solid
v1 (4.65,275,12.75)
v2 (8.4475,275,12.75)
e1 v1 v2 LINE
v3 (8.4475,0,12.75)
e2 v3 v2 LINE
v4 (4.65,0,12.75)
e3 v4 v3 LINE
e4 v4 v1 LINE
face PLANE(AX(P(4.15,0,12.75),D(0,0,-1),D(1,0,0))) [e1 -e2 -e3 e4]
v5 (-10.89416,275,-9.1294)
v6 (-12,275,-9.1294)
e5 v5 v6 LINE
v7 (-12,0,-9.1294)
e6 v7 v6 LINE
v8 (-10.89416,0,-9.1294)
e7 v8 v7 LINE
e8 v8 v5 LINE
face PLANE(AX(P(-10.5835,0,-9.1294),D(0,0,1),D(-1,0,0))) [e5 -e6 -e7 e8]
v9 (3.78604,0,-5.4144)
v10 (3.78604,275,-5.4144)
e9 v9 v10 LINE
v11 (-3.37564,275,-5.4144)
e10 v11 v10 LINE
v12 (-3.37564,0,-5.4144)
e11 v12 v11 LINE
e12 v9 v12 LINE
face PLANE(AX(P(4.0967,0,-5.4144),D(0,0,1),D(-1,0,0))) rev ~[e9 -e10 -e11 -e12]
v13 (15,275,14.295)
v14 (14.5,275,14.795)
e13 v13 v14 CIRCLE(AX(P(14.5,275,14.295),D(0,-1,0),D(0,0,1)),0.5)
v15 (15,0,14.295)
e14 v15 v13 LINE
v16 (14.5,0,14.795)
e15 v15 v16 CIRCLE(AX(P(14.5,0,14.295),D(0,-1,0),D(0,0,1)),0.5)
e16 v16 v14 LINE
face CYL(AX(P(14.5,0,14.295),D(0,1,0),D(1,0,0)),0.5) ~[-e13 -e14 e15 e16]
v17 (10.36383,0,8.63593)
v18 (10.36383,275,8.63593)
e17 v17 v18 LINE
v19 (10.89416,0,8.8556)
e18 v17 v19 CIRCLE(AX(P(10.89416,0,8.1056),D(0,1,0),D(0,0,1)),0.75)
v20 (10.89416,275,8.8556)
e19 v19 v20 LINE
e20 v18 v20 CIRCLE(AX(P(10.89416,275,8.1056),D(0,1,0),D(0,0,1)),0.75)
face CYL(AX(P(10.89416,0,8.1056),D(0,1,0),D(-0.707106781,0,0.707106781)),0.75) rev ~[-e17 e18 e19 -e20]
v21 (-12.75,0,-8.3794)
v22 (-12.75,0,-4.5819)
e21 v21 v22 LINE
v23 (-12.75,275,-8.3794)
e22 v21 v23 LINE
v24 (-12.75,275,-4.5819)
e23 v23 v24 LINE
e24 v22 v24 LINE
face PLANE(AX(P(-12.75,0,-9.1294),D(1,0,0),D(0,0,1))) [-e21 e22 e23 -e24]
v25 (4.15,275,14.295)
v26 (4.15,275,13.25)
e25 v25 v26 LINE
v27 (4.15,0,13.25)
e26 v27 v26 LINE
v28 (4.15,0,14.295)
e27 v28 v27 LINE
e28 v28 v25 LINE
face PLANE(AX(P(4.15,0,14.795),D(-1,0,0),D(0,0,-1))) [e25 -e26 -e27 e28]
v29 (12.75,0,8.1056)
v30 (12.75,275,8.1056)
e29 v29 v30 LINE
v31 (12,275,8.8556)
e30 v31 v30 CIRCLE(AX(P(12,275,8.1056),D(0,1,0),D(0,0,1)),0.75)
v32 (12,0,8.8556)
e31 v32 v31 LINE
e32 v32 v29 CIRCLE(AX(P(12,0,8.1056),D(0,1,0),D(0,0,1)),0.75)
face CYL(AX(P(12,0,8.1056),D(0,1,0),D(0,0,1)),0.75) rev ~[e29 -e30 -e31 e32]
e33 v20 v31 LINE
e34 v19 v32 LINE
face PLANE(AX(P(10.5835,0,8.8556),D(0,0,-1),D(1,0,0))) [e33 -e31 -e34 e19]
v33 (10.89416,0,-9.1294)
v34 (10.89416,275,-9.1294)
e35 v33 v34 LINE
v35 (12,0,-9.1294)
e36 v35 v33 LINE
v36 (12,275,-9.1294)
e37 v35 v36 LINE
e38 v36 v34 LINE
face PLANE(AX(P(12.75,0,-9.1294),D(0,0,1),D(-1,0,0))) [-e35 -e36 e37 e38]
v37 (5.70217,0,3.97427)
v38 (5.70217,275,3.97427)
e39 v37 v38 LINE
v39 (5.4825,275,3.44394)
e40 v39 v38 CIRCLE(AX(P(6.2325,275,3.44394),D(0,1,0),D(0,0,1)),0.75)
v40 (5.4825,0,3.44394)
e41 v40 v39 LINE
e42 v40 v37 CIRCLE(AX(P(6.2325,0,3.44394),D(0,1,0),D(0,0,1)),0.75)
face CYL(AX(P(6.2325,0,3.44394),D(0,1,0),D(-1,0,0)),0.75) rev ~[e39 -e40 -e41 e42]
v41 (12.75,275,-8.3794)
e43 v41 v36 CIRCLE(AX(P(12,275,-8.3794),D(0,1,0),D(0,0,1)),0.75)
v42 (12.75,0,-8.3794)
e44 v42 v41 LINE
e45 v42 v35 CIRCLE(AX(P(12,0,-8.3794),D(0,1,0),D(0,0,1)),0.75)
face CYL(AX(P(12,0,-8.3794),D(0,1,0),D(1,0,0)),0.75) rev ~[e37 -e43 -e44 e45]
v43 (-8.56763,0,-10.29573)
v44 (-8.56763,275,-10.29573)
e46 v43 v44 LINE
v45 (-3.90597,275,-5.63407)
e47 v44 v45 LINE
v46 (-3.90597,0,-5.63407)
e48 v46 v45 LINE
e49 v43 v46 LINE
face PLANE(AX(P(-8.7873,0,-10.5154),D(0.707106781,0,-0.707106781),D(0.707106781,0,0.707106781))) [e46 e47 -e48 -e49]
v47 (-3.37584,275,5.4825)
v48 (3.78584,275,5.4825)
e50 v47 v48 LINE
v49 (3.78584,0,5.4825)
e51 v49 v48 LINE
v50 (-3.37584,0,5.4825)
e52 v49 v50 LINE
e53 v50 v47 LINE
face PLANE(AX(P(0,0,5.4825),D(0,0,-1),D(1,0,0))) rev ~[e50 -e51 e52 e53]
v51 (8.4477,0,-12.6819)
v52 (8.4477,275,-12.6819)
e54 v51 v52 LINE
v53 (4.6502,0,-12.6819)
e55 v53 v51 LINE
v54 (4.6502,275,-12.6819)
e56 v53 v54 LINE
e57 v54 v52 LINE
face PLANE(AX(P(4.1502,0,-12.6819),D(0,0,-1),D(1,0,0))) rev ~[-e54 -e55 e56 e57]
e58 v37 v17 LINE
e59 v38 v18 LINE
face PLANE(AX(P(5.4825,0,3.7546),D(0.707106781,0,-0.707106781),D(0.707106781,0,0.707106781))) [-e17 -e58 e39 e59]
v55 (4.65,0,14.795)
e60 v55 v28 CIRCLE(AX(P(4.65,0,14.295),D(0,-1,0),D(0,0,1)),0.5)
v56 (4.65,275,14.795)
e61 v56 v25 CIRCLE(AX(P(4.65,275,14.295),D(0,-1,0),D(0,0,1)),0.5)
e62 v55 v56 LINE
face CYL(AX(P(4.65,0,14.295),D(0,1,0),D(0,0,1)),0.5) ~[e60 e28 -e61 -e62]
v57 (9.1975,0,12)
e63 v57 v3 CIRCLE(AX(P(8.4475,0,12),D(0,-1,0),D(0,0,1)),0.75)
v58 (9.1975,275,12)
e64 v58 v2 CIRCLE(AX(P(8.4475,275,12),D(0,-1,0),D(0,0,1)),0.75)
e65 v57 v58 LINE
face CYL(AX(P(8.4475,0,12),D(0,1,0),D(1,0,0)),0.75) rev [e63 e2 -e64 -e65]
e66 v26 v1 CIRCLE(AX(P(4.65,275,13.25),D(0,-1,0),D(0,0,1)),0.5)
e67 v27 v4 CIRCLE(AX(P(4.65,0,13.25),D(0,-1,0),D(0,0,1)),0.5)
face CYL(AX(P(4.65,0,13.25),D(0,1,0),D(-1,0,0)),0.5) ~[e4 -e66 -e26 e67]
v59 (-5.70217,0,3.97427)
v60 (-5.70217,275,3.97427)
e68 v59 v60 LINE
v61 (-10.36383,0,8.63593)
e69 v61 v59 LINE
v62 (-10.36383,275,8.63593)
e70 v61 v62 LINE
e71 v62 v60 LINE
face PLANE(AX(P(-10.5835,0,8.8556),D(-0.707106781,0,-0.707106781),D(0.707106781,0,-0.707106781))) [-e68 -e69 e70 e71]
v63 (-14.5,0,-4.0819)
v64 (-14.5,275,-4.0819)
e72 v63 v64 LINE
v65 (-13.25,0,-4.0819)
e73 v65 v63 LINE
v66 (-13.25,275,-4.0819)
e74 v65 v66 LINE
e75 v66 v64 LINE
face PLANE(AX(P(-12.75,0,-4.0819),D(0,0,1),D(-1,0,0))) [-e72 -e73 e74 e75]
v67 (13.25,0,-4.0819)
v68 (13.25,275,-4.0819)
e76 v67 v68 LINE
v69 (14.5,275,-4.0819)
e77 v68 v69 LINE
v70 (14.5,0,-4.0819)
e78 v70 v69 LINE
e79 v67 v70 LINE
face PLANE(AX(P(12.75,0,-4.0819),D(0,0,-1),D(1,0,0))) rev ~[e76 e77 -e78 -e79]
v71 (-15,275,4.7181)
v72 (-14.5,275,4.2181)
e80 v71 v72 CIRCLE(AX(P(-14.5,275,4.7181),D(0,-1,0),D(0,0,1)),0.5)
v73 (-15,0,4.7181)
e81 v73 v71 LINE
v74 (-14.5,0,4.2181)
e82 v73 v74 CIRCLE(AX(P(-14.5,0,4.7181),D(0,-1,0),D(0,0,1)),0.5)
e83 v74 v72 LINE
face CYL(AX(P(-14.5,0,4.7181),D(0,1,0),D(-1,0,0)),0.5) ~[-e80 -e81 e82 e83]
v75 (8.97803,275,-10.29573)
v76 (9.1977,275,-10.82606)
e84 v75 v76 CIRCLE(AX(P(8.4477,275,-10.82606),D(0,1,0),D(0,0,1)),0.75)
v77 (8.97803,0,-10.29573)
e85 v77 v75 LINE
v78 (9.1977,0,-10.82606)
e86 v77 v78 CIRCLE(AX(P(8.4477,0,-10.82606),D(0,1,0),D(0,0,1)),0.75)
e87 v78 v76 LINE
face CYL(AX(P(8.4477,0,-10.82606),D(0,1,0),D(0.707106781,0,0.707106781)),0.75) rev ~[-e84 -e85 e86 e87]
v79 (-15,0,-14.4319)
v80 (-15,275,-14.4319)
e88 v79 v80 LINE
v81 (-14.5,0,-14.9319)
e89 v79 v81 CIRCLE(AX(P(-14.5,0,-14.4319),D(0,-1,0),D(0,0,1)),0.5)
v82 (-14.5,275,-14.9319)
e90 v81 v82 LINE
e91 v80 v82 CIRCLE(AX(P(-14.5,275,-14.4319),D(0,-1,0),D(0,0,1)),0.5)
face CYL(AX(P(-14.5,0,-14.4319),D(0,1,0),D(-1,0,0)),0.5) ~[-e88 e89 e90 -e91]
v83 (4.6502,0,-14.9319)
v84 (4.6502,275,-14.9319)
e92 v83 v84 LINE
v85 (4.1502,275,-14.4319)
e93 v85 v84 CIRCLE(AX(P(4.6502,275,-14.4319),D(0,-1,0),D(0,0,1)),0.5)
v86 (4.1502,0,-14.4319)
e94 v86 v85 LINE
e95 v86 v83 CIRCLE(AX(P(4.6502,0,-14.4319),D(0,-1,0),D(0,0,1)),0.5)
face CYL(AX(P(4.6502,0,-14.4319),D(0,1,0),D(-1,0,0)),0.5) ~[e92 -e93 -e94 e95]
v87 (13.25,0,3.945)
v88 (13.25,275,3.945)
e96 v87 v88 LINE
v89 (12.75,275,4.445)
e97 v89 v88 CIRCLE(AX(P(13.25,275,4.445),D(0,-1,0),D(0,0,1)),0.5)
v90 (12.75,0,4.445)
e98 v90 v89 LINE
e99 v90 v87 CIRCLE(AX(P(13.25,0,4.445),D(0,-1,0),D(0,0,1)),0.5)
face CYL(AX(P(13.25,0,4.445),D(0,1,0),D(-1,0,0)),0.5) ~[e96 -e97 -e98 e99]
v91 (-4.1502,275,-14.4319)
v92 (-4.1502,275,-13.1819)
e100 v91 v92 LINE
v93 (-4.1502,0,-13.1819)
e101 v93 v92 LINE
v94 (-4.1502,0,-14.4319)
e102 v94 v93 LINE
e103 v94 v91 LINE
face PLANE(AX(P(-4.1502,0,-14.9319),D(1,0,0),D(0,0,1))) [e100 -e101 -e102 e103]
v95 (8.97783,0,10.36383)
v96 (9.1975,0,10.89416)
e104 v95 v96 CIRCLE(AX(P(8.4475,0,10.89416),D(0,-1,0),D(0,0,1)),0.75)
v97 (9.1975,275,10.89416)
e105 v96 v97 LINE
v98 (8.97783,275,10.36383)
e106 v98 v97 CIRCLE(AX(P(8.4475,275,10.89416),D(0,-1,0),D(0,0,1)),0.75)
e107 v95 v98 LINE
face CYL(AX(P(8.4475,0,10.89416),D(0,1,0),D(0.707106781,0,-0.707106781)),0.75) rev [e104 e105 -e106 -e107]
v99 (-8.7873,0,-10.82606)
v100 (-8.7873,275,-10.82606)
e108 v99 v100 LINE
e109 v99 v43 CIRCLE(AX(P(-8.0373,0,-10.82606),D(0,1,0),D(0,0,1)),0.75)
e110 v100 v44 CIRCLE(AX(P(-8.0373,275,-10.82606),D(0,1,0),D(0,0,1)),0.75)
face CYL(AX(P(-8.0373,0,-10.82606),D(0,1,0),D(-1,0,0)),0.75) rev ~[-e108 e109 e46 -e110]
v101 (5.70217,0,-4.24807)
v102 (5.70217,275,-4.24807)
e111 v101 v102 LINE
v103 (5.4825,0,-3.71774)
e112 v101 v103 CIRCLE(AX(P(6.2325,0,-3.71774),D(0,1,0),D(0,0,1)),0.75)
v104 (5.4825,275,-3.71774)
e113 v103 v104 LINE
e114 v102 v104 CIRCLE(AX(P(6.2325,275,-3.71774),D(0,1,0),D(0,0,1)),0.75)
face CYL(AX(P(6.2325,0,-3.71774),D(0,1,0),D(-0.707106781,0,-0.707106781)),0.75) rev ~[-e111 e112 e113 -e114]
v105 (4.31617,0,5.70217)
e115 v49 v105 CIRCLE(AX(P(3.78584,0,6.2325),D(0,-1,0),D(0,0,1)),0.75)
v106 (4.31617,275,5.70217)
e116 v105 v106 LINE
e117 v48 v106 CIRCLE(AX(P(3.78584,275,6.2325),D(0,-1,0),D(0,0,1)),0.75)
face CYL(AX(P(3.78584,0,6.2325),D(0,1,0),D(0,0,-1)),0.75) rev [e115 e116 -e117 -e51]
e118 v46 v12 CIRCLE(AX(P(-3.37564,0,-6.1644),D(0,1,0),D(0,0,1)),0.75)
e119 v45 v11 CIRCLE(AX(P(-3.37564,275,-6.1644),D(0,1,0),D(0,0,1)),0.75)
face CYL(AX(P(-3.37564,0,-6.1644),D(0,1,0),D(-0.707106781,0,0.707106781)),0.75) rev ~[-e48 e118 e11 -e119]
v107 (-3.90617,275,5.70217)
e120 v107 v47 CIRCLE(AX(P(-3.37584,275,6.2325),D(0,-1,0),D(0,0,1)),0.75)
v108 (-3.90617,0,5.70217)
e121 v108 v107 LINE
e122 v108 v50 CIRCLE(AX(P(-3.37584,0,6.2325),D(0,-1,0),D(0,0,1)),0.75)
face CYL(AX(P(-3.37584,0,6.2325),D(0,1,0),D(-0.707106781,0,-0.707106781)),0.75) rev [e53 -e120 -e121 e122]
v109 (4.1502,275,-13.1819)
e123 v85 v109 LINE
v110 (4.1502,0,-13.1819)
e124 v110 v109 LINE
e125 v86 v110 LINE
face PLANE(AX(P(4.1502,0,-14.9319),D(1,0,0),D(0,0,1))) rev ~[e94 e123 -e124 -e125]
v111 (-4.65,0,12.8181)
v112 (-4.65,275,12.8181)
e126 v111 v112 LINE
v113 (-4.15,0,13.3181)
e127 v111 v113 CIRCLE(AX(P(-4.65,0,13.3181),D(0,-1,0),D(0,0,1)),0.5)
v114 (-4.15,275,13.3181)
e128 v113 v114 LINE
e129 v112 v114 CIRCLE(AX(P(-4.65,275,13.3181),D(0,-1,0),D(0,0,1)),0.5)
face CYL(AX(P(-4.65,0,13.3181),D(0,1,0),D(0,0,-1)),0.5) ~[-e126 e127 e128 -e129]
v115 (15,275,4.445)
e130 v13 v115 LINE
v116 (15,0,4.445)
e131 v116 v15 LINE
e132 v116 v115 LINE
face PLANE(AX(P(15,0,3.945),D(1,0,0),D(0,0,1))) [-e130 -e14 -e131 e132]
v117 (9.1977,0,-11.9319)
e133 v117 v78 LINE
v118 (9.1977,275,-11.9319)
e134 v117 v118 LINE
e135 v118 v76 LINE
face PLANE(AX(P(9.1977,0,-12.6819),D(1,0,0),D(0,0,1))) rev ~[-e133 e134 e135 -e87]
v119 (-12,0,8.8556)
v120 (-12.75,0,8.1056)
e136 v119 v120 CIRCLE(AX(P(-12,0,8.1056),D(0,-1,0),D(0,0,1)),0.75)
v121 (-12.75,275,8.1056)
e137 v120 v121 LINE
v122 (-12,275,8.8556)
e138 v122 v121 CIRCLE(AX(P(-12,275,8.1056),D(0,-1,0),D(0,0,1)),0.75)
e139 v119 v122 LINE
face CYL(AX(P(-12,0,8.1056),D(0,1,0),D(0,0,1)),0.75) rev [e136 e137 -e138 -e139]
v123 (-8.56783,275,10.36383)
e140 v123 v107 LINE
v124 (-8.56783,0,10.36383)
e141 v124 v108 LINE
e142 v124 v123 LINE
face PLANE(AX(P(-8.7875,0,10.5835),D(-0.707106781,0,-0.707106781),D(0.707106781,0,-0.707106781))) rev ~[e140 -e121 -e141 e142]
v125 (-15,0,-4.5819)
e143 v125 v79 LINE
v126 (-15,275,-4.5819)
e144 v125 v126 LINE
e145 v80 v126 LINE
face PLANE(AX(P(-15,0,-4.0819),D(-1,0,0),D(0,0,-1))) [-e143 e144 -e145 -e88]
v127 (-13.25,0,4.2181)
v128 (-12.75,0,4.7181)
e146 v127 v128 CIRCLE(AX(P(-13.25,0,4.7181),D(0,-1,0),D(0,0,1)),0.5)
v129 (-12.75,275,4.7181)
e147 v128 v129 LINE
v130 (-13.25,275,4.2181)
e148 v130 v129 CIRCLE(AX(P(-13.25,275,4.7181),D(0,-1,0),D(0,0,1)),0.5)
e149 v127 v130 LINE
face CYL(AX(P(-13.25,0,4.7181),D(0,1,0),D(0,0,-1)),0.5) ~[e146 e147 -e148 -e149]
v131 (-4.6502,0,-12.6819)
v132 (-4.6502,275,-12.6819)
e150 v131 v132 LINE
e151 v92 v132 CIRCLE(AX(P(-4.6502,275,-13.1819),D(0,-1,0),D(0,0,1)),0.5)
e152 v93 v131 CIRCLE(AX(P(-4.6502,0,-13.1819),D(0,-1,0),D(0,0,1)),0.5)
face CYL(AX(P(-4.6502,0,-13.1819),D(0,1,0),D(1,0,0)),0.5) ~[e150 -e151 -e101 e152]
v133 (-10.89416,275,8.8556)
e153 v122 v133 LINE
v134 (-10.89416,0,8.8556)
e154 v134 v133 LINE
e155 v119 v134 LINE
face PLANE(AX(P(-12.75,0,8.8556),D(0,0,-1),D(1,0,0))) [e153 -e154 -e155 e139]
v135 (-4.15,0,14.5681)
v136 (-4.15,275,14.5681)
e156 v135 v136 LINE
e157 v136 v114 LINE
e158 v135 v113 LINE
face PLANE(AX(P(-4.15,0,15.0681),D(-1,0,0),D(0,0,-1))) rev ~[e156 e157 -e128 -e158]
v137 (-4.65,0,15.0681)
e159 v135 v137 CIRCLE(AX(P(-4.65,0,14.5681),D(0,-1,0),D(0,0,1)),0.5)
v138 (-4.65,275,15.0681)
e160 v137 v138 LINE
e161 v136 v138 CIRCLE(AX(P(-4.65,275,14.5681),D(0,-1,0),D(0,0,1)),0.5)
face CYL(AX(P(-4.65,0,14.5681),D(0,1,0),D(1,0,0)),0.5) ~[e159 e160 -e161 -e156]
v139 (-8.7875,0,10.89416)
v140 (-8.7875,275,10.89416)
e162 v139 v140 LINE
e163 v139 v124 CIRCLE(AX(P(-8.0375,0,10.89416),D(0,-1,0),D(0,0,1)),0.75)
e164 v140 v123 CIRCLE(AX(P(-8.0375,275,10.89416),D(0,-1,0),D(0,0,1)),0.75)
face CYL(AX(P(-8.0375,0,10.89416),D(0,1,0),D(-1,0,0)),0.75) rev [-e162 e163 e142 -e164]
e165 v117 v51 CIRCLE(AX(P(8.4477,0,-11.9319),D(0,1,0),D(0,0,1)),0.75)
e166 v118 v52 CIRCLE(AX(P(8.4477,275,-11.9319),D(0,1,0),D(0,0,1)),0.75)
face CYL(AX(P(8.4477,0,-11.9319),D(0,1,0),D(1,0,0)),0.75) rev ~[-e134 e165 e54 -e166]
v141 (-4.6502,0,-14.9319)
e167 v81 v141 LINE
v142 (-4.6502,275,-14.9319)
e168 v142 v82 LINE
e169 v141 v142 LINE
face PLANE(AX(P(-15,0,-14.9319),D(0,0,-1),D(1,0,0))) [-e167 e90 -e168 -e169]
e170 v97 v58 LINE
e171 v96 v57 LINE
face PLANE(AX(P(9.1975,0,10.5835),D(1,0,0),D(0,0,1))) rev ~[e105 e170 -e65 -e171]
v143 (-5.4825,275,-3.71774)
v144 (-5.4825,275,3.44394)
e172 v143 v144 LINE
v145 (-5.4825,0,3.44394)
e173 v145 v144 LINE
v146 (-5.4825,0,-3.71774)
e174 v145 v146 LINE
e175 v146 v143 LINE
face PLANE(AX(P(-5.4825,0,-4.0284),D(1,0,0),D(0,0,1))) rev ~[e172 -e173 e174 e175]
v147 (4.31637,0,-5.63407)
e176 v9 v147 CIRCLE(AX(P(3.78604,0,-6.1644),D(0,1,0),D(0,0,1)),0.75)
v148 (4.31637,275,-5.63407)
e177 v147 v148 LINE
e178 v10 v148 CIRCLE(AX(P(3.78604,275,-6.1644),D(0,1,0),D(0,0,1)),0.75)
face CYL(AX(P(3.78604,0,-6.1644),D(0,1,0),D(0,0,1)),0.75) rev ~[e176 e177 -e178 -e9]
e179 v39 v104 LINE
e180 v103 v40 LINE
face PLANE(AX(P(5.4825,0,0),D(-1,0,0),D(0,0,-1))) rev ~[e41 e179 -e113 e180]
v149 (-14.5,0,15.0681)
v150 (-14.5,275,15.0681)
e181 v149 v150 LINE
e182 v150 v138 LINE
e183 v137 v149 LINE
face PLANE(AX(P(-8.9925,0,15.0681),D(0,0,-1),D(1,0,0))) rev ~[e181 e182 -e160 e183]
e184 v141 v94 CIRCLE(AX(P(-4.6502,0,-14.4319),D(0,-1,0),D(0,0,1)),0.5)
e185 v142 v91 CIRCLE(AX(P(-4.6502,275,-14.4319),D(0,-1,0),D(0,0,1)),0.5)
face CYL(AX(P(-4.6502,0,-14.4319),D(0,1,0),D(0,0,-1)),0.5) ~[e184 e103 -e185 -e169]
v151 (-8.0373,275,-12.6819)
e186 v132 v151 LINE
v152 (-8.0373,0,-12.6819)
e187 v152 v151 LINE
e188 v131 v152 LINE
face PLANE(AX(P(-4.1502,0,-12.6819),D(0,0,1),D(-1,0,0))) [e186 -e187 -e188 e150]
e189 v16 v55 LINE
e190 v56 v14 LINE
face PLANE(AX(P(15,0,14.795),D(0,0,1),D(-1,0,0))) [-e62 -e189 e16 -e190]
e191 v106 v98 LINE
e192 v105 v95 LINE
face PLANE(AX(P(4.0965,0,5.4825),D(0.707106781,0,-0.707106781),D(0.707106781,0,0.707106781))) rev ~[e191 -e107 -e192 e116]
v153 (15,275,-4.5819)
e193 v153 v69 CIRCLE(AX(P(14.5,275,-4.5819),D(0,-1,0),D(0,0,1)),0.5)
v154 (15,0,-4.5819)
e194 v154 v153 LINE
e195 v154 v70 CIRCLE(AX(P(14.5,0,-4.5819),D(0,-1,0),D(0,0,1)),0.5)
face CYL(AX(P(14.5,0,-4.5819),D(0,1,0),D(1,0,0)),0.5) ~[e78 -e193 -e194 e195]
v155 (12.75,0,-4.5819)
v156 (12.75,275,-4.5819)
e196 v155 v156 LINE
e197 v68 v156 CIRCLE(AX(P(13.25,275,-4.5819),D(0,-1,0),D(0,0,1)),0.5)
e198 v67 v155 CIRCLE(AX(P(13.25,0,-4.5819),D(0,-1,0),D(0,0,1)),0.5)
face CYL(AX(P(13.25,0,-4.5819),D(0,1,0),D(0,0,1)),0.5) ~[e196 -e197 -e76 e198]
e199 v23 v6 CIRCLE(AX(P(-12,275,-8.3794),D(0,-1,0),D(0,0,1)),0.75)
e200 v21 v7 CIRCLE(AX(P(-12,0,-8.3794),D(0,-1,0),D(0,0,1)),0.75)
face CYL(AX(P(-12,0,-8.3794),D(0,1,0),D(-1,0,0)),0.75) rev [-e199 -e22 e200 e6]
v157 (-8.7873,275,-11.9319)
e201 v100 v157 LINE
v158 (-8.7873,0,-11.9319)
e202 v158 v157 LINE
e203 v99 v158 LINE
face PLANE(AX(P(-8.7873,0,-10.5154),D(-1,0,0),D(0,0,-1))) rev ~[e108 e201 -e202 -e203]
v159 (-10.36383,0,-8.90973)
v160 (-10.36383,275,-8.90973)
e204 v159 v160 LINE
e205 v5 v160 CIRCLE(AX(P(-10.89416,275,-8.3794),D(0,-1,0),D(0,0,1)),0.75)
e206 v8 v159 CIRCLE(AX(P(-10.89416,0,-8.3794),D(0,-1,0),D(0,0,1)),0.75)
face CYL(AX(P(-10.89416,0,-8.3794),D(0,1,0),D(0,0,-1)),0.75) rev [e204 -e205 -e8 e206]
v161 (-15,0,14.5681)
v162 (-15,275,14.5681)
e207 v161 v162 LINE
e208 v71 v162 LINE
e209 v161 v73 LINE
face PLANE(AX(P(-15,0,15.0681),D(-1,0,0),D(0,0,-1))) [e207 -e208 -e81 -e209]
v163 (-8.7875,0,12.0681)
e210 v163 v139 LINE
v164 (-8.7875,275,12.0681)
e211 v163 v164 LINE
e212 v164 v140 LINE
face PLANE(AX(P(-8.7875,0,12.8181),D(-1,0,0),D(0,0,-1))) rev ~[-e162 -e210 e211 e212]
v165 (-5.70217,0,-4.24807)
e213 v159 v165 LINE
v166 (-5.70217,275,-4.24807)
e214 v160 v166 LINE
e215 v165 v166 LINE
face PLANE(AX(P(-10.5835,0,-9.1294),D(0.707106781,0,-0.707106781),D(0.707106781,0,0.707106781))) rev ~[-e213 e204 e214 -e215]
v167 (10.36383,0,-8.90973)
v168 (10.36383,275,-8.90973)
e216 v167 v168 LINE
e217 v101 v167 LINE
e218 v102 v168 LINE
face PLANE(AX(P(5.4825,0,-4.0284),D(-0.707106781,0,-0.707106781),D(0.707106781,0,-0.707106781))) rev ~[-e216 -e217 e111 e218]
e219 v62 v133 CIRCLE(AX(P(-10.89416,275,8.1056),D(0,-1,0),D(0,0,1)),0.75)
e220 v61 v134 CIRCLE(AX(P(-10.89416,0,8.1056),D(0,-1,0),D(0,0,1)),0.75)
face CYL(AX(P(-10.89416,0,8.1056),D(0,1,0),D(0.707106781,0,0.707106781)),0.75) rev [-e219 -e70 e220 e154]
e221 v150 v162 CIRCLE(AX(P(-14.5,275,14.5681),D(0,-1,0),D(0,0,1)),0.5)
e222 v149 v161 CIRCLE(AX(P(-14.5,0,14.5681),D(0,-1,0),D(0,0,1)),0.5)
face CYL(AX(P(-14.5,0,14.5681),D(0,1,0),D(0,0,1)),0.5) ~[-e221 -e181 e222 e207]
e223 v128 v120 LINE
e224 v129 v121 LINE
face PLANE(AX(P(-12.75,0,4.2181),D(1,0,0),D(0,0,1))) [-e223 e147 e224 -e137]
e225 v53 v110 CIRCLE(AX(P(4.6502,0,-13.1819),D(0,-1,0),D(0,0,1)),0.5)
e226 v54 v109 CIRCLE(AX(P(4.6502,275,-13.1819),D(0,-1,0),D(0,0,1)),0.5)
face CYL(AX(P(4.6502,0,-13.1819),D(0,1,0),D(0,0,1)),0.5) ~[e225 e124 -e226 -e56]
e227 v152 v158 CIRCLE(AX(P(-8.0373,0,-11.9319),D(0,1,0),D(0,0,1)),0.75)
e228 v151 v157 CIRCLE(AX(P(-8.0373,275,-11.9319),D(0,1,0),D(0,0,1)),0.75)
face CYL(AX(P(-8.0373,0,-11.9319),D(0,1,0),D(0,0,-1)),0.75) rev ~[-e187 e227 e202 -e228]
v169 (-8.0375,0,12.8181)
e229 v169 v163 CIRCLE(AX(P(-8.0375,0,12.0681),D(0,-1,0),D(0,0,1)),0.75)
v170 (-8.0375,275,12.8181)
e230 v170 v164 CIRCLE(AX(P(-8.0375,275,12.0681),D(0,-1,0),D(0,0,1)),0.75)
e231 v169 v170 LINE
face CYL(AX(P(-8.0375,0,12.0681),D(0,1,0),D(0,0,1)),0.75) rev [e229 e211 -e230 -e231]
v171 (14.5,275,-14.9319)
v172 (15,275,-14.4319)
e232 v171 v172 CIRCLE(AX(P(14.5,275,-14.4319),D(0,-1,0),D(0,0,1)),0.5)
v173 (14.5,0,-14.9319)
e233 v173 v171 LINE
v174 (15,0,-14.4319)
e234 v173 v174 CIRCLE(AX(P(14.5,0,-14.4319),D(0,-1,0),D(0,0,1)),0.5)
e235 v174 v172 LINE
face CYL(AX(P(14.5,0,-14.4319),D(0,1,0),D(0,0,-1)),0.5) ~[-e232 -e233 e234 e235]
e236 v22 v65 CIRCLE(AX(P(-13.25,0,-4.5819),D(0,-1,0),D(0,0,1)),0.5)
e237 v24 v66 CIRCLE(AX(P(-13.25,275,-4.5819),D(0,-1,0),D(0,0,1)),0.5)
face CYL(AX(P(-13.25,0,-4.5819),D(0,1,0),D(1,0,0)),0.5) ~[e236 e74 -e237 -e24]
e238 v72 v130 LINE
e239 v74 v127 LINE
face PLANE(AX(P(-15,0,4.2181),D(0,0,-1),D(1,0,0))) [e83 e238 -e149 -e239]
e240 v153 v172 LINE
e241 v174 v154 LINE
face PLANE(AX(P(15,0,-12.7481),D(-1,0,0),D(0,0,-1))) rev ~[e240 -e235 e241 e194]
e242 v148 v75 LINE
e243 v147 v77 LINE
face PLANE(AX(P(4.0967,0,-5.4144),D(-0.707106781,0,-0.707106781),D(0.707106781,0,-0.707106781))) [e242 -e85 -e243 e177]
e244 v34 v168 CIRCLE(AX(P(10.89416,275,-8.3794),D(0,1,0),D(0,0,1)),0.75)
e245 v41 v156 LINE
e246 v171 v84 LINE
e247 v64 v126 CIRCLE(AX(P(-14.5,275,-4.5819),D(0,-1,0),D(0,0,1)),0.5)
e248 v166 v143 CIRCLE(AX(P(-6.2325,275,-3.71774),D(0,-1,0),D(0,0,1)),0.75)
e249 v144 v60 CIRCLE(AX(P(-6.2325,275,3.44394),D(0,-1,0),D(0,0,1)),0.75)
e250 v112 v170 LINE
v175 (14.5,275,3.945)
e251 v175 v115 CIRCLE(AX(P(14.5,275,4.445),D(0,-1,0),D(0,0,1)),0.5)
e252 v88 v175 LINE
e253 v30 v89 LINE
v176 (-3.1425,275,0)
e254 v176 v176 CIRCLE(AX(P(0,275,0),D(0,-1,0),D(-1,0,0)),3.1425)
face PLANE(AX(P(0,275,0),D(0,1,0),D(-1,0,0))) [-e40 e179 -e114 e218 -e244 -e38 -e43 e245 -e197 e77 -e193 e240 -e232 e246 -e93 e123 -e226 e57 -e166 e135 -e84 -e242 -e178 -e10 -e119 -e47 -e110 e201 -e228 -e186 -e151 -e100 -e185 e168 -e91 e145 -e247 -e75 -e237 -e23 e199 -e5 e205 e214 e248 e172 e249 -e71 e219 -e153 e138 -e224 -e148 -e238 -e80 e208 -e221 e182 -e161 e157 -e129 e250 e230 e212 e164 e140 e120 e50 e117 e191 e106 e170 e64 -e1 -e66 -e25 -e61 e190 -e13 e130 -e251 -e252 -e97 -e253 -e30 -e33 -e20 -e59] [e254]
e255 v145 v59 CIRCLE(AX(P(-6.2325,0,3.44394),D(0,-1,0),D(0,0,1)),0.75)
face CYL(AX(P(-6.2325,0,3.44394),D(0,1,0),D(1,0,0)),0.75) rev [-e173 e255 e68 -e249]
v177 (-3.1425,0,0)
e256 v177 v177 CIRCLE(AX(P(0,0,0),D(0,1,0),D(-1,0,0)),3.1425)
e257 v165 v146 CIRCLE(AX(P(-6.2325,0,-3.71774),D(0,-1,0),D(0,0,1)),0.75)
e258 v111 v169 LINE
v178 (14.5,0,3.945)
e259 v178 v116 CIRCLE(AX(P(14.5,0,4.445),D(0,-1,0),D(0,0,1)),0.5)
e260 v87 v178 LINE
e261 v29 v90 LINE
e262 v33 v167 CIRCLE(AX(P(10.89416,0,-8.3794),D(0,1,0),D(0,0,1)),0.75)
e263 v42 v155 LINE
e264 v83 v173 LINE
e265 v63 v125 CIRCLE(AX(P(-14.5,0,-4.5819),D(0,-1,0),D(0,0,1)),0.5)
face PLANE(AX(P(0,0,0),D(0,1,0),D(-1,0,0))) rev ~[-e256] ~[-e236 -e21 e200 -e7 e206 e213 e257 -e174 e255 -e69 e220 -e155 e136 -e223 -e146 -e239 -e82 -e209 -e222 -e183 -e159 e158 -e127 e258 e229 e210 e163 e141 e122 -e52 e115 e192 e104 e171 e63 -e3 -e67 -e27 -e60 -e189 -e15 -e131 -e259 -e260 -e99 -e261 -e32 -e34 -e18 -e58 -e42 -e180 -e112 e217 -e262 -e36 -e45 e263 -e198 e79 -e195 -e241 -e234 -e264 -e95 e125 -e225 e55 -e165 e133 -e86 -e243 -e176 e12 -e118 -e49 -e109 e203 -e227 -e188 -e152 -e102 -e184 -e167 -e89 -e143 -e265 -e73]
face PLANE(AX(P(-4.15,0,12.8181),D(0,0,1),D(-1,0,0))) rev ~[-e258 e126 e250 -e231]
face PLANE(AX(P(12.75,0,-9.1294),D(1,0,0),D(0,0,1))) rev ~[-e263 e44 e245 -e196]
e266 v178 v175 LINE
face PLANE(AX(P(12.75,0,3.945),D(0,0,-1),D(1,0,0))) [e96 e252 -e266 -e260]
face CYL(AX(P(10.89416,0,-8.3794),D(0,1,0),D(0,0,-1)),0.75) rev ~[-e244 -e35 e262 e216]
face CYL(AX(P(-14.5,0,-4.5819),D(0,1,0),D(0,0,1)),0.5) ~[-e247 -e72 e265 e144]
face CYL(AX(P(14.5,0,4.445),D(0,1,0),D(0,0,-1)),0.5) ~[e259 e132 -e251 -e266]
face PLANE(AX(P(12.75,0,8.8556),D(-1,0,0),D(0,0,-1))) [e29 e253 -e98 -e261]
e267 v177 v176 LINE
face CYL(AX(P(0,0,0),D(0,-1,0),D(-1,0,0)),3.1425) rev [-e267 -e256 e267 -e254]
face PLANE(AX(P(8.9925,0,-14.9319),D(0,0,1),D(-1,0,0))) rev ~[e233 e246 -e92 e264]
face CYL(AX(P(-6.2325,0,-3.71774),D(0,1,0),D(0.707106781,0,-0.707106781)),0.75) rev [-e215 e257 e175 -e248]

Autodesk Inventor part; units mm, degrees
ref_plane "YZ Plane" through (0, 0, 0) normal (1, 0, 0) x (0, 1, 0)
ref_plane "XZ Plane" through (0, 0, 0) normal (0, 1, 0) x (-1, 0, 0)
ref_plane "XY Plane" through (0, 0, 0) normal (0, 0, 1) x (1, 0, 0)
sketch "Sketch1" plane through (0, 0, 0) normal (0, 1, 0) x (-1, 0, 0)
  line L0 (0, -21.0136) -> (0, 21.0817) projected
  line L1 (-21, 0) -> (21, 0) projected
  line L2 (21, 0) -> (-21, 0) projected
  line L3 (0, -21.0136) -> (0, 21.0817) projected
  line L4 (3.6865, 5.4825) -> (-4.0965, 5.4825)
  line L5 (-5.4825, 3.7546) -> (-5.4825, -4.0284)
  line L6 (-4.0967, -5.4144) -> (3.6863, -5.4144)
  line L7 (5.4825, -4.0284) -> (5.4825, 3.7546)
  line L8 (-5.4825, 5.4825) -> (5.4825, -5.4825) construction
  line L9 (15, 15.0681) -> (15, 4.2181)
  line L10 (15, 4.2181) -> (12.75, 4.2181)
  line L11 (15, 15.0681) -> (4.15, 15.0681)
  line L12 (4.15, 15.0681) -> (4.15, 12.8181)
  line L13 (-15, 14.795) -> (-4.15, 14.795)
  line L14 (-4.15, 14.795) -> (-4.15, 12.75)
  line L15 (-15, 12.75) -> (-15, 14.795)
  line L16 (-15, 14.795) -> (-12.75, 14.795)
  line L17 (-12.75, 3.945) -> (-15, 3.945)
  line L18 (-15, 3.945) -> (-15, 14.795)
  line L19 (-15, -14.9319) -> (-12.75, -14.9319)
  line L20 (-12.75, -4.0819) -> (-15, -4.0819)
  line L21 (-15, -4.0819) -> (-15, -14.9319)
  line L22 (-15, -14.9319) -> (-4.1502, -14.9319)
  line L23 (-4.1502, -14.9319) -> (-4.1502, -12.6819)
  line L24 (-15, -12.7481) -> (-15, -14.9319)
  line L25 (15, -14.9319) -> (12.75, -14.9319)
  line L26 (12.75, -4.0819) -> (15, -4.0819)
  line L27 (15, -4.0819) -> (15, -14.9319)
  line L28 (15, -14.9319) -> (4.1502, -14.9319)
  line L29 (4.1502, -14.9319) -> (4.1502, -12.6819)
  line L30 (15, -12.7481) -> (15, -14.9319)
  circle A0 centre (0, 0) radius 3.1425
  line L31 (8.9925, -14.9319) -> (4.1502, -14.9319)
  line L32 (-4.1502, -14.9319) -> (-8.9925, -14.9319)
  line L33 (15, -14.9319) -> (4.1502, -14.9319)
  line L34 (-4.1502, -14.9319) -> (-15, -14.9319)
  line L35 (15, -8.9925) -> (15, -4.0819)
  line L36 (15, 4.2181) -> (15, 9.0606)
  line L37 (15, 15.0681) -> (15, 4.2181)
  line L38 (15, -4.0819) -> (15, -14.9319)
  line L39 (-8.9925, 14.795) -> (-4.15, 14.795)
  line L40 (4.15, 15.0681) -> (8.9925, 15.0681)
  line L41 (-15, 14.795) -> (-4.15, 14.795)
  line L42 (4.15, 15.0681) -> (15, 15.0681)
  line L43 (-15, 8.9925) -> (-15, 3.945)
  line L44 (-15, -4.0819) -> (-15, -8.9925)
  line L45 (-15, -14.9319) -> (-15, -4.0819)
  line L46 (-15, 3.945) -> (-15, 14.795)
  line L47 (-4.1502, -12.6819) -> (-9.1977, -12.6819)
  line L48 (-12.75, -9.1294) -> (-12.75, -4.0819)
  line L49 (-12.75, -9.1294) -> (-10.5835, -9.1294)
  line L50 (-9.1977, -12.6819) -> (-9.1977, -10.5154)
  line L51 (-9.1975, 10.5835) -> (-9.1975, 12.75)
  line L52 (4.15, 12.8181) -> (8.7875, 12.8181)
  line L53 (12.75, 4.2181) -> (12.75, 8.8556)
  line L54 (12.75, 8.8556) -> (10.5835, 8.8556)
  line L55 (8.7875, 12.8181) -> (8.7875, 10.5835)
  line L56 (4.1502, -12.6819) -> (8.7873, -12.6819)
  line L57 (14.341, -12.7481) -> (15, -12.7481)
  line L58 (12.75, -14.9319) -> (12.75, -14.2729)
  line L59 (12.75, -9.1294) -> (12.75, -4.0819)
  line L60 (10.5835, -9.1294) -> (12.75, -9.1294)
  line L61 (8.7873, -10.5154) -> (8.7873, -12.6819)
  line L62 (5.4825, 5.4825) -> (-0.7955, -0.7955) construction
  line L63 (-2.2221, -2.2221) -> (-5.4825, -5.4825) construction
  line L64 (-12.75, 14.795) -> (-12.75, 14.136)
  line L65 (-12.75, 8.8556) -> (-12.75, 3.945)
  line L66 (-4.15, 12.75) -> (-9.1975, 12.75)
  line L67 (-14.341, 12.75) -> (-15, 12.75)
  line L68 (-10.5835, 8.8556) -> (-12.75, 8.8556)
  line L69 (-5.4825, 3.7546) -> (-10.5835, 8.8556)
  line L70 (-4.0965, 5.4825) -> (-9.1975, 10.5835)
  line L71 (8.7875, 10.5835) -> (3.6865, 5.4825)
  line L72 (10.5835, 8.8556) -> (5.4825, 3.7546)
  line L73 (10.5835, -9.1294) -> (5.4825, -4.0284)
  line L74 (8.7873, -10.5154) -> (3.6863, -5.4144)
  line L75 (-4.0967, -5.4144) -> (-9.1977, -10.5154)
  line L76 (-5.4825, -4.0284) -> (-10.5835, -9.1294)
  line L77 (15, 15) -> (-15, -15) construction
  line L78 (-15, 15) -> (15, -15) construction
  point P0 (-15, 0)
  dimension "d26" = 6.285
  dimension "d0" = 30
  dimension "d1" = 30
  dimension "d2" = 10.965
  dimension "d3" = 10.965
  dimension "d4" = 30
  dimension "d5" = 17.985
  dimension "d6" = 17.985
  dimension "d11" = 10.85
  dimension "d12" = 2.25
  dimension "d13" = 10.85
  dimension "d14" = 2.25
  dimension "d15" = 10.85
  dimension "d16" = 2.25
  dimension "d17" = 10.85
  dimension "d18" = 2.25
  dimension "d19" = 10.85
  dimension "d20" = 10.85
  dimension "d21" = 2.25
  dimension "d22" = 2.25
  dimension "d23" = 10.85
  dimension "d24" = 10.85
  dimension "d25" = 2.25
  dimension "d31" = 30
  dimension "d32" = 30
extrude "Extrusion1" add sketch "Sketch1" along normal blind 275 contours L6 L75 L50 L47 L23 L22 L19 L21 L20 L48 L49 L76 L5 L1 A0 L0 | L0 A0 L1 L7 L73 L60 L59 L26 L27 L25 L28 L29 L56 L61 L74 L6 | L1 L5 L69 L68 L65 L17 L18 L15 L13 L14 L66 L51 L70 L4 L0 A0 | A0 L0 L4 L71 L55 L52 L12 L11 L9 L10 L53 L54 L72 L7 L1
fillet "Fillet1" radius 0.5 20 edges at (15, 137.5, 14.795) (4.15, 137.5, 14.795) (-4.15, 137.5, 15.0681) (-4.15, 137.5, 12.8181) (15, 137.5, 3.945) (12.75, 137.5, 3.945) (15, 137.5, -4.0819) (12.75, 137.5, -4.0819) (15, 137.5, -14.9319) (4.1502, 137.5, -12.6819) (-4.1502, 137.5, -14.9319) (-4.1502, 137.5, -12.6819) (4.1502, 137.5, -14.9319) (-15, 137.5, -14.9319) (-12.75, 137.5, -4.0819) (-15, 137.5, -4.0819) (-12.75, 137.5, 4.2181) (-15, 137.5, 4.2181) (-15, 137.5, 15.0681) (4.15, 137.5, 12.75)
fillet "Fillet2" radius 0.75 24 edges at (-10.5835, 137.5, 8.8556) (-5.4825, 137.5, 3.7546) (-12.75, 137.5, -9.1294) (-10.5835, 137.5, -9.1294) (-8.7873, 137.5, -12.6819) (5.4825, 137.5, -4.0284) (10.5835, 137.5, -9.1294) (-3.6865, 137.5, 5.4825) (-8.7875, 137.5, 10.5835) (5.4825, 137.5, 3.7546) (10.5835, 137.5, 8.8556) (12.75, 137.5, 8.8556) (12.75, 137.5, -9.1294) (4.0965, 137.5, 5.4825) (9.1975, 137.5, 10.5835) (9.1975, 137.5, 12.75) (-8.7875, 137.5, 12.8181) (-12.75, 137.5, 8.8556) (4.0967, 137.5, -5.4144) (9.1977, 137.5, -10.5154) (9.1977, 137.5, -12.6819) (-8.7873, 137.5, -10.5154) (-3.6863, 137.5, -5.4144) (-5.4825, 137.5, -4.0284)
properties part number "Profile_30mm_275mm"
